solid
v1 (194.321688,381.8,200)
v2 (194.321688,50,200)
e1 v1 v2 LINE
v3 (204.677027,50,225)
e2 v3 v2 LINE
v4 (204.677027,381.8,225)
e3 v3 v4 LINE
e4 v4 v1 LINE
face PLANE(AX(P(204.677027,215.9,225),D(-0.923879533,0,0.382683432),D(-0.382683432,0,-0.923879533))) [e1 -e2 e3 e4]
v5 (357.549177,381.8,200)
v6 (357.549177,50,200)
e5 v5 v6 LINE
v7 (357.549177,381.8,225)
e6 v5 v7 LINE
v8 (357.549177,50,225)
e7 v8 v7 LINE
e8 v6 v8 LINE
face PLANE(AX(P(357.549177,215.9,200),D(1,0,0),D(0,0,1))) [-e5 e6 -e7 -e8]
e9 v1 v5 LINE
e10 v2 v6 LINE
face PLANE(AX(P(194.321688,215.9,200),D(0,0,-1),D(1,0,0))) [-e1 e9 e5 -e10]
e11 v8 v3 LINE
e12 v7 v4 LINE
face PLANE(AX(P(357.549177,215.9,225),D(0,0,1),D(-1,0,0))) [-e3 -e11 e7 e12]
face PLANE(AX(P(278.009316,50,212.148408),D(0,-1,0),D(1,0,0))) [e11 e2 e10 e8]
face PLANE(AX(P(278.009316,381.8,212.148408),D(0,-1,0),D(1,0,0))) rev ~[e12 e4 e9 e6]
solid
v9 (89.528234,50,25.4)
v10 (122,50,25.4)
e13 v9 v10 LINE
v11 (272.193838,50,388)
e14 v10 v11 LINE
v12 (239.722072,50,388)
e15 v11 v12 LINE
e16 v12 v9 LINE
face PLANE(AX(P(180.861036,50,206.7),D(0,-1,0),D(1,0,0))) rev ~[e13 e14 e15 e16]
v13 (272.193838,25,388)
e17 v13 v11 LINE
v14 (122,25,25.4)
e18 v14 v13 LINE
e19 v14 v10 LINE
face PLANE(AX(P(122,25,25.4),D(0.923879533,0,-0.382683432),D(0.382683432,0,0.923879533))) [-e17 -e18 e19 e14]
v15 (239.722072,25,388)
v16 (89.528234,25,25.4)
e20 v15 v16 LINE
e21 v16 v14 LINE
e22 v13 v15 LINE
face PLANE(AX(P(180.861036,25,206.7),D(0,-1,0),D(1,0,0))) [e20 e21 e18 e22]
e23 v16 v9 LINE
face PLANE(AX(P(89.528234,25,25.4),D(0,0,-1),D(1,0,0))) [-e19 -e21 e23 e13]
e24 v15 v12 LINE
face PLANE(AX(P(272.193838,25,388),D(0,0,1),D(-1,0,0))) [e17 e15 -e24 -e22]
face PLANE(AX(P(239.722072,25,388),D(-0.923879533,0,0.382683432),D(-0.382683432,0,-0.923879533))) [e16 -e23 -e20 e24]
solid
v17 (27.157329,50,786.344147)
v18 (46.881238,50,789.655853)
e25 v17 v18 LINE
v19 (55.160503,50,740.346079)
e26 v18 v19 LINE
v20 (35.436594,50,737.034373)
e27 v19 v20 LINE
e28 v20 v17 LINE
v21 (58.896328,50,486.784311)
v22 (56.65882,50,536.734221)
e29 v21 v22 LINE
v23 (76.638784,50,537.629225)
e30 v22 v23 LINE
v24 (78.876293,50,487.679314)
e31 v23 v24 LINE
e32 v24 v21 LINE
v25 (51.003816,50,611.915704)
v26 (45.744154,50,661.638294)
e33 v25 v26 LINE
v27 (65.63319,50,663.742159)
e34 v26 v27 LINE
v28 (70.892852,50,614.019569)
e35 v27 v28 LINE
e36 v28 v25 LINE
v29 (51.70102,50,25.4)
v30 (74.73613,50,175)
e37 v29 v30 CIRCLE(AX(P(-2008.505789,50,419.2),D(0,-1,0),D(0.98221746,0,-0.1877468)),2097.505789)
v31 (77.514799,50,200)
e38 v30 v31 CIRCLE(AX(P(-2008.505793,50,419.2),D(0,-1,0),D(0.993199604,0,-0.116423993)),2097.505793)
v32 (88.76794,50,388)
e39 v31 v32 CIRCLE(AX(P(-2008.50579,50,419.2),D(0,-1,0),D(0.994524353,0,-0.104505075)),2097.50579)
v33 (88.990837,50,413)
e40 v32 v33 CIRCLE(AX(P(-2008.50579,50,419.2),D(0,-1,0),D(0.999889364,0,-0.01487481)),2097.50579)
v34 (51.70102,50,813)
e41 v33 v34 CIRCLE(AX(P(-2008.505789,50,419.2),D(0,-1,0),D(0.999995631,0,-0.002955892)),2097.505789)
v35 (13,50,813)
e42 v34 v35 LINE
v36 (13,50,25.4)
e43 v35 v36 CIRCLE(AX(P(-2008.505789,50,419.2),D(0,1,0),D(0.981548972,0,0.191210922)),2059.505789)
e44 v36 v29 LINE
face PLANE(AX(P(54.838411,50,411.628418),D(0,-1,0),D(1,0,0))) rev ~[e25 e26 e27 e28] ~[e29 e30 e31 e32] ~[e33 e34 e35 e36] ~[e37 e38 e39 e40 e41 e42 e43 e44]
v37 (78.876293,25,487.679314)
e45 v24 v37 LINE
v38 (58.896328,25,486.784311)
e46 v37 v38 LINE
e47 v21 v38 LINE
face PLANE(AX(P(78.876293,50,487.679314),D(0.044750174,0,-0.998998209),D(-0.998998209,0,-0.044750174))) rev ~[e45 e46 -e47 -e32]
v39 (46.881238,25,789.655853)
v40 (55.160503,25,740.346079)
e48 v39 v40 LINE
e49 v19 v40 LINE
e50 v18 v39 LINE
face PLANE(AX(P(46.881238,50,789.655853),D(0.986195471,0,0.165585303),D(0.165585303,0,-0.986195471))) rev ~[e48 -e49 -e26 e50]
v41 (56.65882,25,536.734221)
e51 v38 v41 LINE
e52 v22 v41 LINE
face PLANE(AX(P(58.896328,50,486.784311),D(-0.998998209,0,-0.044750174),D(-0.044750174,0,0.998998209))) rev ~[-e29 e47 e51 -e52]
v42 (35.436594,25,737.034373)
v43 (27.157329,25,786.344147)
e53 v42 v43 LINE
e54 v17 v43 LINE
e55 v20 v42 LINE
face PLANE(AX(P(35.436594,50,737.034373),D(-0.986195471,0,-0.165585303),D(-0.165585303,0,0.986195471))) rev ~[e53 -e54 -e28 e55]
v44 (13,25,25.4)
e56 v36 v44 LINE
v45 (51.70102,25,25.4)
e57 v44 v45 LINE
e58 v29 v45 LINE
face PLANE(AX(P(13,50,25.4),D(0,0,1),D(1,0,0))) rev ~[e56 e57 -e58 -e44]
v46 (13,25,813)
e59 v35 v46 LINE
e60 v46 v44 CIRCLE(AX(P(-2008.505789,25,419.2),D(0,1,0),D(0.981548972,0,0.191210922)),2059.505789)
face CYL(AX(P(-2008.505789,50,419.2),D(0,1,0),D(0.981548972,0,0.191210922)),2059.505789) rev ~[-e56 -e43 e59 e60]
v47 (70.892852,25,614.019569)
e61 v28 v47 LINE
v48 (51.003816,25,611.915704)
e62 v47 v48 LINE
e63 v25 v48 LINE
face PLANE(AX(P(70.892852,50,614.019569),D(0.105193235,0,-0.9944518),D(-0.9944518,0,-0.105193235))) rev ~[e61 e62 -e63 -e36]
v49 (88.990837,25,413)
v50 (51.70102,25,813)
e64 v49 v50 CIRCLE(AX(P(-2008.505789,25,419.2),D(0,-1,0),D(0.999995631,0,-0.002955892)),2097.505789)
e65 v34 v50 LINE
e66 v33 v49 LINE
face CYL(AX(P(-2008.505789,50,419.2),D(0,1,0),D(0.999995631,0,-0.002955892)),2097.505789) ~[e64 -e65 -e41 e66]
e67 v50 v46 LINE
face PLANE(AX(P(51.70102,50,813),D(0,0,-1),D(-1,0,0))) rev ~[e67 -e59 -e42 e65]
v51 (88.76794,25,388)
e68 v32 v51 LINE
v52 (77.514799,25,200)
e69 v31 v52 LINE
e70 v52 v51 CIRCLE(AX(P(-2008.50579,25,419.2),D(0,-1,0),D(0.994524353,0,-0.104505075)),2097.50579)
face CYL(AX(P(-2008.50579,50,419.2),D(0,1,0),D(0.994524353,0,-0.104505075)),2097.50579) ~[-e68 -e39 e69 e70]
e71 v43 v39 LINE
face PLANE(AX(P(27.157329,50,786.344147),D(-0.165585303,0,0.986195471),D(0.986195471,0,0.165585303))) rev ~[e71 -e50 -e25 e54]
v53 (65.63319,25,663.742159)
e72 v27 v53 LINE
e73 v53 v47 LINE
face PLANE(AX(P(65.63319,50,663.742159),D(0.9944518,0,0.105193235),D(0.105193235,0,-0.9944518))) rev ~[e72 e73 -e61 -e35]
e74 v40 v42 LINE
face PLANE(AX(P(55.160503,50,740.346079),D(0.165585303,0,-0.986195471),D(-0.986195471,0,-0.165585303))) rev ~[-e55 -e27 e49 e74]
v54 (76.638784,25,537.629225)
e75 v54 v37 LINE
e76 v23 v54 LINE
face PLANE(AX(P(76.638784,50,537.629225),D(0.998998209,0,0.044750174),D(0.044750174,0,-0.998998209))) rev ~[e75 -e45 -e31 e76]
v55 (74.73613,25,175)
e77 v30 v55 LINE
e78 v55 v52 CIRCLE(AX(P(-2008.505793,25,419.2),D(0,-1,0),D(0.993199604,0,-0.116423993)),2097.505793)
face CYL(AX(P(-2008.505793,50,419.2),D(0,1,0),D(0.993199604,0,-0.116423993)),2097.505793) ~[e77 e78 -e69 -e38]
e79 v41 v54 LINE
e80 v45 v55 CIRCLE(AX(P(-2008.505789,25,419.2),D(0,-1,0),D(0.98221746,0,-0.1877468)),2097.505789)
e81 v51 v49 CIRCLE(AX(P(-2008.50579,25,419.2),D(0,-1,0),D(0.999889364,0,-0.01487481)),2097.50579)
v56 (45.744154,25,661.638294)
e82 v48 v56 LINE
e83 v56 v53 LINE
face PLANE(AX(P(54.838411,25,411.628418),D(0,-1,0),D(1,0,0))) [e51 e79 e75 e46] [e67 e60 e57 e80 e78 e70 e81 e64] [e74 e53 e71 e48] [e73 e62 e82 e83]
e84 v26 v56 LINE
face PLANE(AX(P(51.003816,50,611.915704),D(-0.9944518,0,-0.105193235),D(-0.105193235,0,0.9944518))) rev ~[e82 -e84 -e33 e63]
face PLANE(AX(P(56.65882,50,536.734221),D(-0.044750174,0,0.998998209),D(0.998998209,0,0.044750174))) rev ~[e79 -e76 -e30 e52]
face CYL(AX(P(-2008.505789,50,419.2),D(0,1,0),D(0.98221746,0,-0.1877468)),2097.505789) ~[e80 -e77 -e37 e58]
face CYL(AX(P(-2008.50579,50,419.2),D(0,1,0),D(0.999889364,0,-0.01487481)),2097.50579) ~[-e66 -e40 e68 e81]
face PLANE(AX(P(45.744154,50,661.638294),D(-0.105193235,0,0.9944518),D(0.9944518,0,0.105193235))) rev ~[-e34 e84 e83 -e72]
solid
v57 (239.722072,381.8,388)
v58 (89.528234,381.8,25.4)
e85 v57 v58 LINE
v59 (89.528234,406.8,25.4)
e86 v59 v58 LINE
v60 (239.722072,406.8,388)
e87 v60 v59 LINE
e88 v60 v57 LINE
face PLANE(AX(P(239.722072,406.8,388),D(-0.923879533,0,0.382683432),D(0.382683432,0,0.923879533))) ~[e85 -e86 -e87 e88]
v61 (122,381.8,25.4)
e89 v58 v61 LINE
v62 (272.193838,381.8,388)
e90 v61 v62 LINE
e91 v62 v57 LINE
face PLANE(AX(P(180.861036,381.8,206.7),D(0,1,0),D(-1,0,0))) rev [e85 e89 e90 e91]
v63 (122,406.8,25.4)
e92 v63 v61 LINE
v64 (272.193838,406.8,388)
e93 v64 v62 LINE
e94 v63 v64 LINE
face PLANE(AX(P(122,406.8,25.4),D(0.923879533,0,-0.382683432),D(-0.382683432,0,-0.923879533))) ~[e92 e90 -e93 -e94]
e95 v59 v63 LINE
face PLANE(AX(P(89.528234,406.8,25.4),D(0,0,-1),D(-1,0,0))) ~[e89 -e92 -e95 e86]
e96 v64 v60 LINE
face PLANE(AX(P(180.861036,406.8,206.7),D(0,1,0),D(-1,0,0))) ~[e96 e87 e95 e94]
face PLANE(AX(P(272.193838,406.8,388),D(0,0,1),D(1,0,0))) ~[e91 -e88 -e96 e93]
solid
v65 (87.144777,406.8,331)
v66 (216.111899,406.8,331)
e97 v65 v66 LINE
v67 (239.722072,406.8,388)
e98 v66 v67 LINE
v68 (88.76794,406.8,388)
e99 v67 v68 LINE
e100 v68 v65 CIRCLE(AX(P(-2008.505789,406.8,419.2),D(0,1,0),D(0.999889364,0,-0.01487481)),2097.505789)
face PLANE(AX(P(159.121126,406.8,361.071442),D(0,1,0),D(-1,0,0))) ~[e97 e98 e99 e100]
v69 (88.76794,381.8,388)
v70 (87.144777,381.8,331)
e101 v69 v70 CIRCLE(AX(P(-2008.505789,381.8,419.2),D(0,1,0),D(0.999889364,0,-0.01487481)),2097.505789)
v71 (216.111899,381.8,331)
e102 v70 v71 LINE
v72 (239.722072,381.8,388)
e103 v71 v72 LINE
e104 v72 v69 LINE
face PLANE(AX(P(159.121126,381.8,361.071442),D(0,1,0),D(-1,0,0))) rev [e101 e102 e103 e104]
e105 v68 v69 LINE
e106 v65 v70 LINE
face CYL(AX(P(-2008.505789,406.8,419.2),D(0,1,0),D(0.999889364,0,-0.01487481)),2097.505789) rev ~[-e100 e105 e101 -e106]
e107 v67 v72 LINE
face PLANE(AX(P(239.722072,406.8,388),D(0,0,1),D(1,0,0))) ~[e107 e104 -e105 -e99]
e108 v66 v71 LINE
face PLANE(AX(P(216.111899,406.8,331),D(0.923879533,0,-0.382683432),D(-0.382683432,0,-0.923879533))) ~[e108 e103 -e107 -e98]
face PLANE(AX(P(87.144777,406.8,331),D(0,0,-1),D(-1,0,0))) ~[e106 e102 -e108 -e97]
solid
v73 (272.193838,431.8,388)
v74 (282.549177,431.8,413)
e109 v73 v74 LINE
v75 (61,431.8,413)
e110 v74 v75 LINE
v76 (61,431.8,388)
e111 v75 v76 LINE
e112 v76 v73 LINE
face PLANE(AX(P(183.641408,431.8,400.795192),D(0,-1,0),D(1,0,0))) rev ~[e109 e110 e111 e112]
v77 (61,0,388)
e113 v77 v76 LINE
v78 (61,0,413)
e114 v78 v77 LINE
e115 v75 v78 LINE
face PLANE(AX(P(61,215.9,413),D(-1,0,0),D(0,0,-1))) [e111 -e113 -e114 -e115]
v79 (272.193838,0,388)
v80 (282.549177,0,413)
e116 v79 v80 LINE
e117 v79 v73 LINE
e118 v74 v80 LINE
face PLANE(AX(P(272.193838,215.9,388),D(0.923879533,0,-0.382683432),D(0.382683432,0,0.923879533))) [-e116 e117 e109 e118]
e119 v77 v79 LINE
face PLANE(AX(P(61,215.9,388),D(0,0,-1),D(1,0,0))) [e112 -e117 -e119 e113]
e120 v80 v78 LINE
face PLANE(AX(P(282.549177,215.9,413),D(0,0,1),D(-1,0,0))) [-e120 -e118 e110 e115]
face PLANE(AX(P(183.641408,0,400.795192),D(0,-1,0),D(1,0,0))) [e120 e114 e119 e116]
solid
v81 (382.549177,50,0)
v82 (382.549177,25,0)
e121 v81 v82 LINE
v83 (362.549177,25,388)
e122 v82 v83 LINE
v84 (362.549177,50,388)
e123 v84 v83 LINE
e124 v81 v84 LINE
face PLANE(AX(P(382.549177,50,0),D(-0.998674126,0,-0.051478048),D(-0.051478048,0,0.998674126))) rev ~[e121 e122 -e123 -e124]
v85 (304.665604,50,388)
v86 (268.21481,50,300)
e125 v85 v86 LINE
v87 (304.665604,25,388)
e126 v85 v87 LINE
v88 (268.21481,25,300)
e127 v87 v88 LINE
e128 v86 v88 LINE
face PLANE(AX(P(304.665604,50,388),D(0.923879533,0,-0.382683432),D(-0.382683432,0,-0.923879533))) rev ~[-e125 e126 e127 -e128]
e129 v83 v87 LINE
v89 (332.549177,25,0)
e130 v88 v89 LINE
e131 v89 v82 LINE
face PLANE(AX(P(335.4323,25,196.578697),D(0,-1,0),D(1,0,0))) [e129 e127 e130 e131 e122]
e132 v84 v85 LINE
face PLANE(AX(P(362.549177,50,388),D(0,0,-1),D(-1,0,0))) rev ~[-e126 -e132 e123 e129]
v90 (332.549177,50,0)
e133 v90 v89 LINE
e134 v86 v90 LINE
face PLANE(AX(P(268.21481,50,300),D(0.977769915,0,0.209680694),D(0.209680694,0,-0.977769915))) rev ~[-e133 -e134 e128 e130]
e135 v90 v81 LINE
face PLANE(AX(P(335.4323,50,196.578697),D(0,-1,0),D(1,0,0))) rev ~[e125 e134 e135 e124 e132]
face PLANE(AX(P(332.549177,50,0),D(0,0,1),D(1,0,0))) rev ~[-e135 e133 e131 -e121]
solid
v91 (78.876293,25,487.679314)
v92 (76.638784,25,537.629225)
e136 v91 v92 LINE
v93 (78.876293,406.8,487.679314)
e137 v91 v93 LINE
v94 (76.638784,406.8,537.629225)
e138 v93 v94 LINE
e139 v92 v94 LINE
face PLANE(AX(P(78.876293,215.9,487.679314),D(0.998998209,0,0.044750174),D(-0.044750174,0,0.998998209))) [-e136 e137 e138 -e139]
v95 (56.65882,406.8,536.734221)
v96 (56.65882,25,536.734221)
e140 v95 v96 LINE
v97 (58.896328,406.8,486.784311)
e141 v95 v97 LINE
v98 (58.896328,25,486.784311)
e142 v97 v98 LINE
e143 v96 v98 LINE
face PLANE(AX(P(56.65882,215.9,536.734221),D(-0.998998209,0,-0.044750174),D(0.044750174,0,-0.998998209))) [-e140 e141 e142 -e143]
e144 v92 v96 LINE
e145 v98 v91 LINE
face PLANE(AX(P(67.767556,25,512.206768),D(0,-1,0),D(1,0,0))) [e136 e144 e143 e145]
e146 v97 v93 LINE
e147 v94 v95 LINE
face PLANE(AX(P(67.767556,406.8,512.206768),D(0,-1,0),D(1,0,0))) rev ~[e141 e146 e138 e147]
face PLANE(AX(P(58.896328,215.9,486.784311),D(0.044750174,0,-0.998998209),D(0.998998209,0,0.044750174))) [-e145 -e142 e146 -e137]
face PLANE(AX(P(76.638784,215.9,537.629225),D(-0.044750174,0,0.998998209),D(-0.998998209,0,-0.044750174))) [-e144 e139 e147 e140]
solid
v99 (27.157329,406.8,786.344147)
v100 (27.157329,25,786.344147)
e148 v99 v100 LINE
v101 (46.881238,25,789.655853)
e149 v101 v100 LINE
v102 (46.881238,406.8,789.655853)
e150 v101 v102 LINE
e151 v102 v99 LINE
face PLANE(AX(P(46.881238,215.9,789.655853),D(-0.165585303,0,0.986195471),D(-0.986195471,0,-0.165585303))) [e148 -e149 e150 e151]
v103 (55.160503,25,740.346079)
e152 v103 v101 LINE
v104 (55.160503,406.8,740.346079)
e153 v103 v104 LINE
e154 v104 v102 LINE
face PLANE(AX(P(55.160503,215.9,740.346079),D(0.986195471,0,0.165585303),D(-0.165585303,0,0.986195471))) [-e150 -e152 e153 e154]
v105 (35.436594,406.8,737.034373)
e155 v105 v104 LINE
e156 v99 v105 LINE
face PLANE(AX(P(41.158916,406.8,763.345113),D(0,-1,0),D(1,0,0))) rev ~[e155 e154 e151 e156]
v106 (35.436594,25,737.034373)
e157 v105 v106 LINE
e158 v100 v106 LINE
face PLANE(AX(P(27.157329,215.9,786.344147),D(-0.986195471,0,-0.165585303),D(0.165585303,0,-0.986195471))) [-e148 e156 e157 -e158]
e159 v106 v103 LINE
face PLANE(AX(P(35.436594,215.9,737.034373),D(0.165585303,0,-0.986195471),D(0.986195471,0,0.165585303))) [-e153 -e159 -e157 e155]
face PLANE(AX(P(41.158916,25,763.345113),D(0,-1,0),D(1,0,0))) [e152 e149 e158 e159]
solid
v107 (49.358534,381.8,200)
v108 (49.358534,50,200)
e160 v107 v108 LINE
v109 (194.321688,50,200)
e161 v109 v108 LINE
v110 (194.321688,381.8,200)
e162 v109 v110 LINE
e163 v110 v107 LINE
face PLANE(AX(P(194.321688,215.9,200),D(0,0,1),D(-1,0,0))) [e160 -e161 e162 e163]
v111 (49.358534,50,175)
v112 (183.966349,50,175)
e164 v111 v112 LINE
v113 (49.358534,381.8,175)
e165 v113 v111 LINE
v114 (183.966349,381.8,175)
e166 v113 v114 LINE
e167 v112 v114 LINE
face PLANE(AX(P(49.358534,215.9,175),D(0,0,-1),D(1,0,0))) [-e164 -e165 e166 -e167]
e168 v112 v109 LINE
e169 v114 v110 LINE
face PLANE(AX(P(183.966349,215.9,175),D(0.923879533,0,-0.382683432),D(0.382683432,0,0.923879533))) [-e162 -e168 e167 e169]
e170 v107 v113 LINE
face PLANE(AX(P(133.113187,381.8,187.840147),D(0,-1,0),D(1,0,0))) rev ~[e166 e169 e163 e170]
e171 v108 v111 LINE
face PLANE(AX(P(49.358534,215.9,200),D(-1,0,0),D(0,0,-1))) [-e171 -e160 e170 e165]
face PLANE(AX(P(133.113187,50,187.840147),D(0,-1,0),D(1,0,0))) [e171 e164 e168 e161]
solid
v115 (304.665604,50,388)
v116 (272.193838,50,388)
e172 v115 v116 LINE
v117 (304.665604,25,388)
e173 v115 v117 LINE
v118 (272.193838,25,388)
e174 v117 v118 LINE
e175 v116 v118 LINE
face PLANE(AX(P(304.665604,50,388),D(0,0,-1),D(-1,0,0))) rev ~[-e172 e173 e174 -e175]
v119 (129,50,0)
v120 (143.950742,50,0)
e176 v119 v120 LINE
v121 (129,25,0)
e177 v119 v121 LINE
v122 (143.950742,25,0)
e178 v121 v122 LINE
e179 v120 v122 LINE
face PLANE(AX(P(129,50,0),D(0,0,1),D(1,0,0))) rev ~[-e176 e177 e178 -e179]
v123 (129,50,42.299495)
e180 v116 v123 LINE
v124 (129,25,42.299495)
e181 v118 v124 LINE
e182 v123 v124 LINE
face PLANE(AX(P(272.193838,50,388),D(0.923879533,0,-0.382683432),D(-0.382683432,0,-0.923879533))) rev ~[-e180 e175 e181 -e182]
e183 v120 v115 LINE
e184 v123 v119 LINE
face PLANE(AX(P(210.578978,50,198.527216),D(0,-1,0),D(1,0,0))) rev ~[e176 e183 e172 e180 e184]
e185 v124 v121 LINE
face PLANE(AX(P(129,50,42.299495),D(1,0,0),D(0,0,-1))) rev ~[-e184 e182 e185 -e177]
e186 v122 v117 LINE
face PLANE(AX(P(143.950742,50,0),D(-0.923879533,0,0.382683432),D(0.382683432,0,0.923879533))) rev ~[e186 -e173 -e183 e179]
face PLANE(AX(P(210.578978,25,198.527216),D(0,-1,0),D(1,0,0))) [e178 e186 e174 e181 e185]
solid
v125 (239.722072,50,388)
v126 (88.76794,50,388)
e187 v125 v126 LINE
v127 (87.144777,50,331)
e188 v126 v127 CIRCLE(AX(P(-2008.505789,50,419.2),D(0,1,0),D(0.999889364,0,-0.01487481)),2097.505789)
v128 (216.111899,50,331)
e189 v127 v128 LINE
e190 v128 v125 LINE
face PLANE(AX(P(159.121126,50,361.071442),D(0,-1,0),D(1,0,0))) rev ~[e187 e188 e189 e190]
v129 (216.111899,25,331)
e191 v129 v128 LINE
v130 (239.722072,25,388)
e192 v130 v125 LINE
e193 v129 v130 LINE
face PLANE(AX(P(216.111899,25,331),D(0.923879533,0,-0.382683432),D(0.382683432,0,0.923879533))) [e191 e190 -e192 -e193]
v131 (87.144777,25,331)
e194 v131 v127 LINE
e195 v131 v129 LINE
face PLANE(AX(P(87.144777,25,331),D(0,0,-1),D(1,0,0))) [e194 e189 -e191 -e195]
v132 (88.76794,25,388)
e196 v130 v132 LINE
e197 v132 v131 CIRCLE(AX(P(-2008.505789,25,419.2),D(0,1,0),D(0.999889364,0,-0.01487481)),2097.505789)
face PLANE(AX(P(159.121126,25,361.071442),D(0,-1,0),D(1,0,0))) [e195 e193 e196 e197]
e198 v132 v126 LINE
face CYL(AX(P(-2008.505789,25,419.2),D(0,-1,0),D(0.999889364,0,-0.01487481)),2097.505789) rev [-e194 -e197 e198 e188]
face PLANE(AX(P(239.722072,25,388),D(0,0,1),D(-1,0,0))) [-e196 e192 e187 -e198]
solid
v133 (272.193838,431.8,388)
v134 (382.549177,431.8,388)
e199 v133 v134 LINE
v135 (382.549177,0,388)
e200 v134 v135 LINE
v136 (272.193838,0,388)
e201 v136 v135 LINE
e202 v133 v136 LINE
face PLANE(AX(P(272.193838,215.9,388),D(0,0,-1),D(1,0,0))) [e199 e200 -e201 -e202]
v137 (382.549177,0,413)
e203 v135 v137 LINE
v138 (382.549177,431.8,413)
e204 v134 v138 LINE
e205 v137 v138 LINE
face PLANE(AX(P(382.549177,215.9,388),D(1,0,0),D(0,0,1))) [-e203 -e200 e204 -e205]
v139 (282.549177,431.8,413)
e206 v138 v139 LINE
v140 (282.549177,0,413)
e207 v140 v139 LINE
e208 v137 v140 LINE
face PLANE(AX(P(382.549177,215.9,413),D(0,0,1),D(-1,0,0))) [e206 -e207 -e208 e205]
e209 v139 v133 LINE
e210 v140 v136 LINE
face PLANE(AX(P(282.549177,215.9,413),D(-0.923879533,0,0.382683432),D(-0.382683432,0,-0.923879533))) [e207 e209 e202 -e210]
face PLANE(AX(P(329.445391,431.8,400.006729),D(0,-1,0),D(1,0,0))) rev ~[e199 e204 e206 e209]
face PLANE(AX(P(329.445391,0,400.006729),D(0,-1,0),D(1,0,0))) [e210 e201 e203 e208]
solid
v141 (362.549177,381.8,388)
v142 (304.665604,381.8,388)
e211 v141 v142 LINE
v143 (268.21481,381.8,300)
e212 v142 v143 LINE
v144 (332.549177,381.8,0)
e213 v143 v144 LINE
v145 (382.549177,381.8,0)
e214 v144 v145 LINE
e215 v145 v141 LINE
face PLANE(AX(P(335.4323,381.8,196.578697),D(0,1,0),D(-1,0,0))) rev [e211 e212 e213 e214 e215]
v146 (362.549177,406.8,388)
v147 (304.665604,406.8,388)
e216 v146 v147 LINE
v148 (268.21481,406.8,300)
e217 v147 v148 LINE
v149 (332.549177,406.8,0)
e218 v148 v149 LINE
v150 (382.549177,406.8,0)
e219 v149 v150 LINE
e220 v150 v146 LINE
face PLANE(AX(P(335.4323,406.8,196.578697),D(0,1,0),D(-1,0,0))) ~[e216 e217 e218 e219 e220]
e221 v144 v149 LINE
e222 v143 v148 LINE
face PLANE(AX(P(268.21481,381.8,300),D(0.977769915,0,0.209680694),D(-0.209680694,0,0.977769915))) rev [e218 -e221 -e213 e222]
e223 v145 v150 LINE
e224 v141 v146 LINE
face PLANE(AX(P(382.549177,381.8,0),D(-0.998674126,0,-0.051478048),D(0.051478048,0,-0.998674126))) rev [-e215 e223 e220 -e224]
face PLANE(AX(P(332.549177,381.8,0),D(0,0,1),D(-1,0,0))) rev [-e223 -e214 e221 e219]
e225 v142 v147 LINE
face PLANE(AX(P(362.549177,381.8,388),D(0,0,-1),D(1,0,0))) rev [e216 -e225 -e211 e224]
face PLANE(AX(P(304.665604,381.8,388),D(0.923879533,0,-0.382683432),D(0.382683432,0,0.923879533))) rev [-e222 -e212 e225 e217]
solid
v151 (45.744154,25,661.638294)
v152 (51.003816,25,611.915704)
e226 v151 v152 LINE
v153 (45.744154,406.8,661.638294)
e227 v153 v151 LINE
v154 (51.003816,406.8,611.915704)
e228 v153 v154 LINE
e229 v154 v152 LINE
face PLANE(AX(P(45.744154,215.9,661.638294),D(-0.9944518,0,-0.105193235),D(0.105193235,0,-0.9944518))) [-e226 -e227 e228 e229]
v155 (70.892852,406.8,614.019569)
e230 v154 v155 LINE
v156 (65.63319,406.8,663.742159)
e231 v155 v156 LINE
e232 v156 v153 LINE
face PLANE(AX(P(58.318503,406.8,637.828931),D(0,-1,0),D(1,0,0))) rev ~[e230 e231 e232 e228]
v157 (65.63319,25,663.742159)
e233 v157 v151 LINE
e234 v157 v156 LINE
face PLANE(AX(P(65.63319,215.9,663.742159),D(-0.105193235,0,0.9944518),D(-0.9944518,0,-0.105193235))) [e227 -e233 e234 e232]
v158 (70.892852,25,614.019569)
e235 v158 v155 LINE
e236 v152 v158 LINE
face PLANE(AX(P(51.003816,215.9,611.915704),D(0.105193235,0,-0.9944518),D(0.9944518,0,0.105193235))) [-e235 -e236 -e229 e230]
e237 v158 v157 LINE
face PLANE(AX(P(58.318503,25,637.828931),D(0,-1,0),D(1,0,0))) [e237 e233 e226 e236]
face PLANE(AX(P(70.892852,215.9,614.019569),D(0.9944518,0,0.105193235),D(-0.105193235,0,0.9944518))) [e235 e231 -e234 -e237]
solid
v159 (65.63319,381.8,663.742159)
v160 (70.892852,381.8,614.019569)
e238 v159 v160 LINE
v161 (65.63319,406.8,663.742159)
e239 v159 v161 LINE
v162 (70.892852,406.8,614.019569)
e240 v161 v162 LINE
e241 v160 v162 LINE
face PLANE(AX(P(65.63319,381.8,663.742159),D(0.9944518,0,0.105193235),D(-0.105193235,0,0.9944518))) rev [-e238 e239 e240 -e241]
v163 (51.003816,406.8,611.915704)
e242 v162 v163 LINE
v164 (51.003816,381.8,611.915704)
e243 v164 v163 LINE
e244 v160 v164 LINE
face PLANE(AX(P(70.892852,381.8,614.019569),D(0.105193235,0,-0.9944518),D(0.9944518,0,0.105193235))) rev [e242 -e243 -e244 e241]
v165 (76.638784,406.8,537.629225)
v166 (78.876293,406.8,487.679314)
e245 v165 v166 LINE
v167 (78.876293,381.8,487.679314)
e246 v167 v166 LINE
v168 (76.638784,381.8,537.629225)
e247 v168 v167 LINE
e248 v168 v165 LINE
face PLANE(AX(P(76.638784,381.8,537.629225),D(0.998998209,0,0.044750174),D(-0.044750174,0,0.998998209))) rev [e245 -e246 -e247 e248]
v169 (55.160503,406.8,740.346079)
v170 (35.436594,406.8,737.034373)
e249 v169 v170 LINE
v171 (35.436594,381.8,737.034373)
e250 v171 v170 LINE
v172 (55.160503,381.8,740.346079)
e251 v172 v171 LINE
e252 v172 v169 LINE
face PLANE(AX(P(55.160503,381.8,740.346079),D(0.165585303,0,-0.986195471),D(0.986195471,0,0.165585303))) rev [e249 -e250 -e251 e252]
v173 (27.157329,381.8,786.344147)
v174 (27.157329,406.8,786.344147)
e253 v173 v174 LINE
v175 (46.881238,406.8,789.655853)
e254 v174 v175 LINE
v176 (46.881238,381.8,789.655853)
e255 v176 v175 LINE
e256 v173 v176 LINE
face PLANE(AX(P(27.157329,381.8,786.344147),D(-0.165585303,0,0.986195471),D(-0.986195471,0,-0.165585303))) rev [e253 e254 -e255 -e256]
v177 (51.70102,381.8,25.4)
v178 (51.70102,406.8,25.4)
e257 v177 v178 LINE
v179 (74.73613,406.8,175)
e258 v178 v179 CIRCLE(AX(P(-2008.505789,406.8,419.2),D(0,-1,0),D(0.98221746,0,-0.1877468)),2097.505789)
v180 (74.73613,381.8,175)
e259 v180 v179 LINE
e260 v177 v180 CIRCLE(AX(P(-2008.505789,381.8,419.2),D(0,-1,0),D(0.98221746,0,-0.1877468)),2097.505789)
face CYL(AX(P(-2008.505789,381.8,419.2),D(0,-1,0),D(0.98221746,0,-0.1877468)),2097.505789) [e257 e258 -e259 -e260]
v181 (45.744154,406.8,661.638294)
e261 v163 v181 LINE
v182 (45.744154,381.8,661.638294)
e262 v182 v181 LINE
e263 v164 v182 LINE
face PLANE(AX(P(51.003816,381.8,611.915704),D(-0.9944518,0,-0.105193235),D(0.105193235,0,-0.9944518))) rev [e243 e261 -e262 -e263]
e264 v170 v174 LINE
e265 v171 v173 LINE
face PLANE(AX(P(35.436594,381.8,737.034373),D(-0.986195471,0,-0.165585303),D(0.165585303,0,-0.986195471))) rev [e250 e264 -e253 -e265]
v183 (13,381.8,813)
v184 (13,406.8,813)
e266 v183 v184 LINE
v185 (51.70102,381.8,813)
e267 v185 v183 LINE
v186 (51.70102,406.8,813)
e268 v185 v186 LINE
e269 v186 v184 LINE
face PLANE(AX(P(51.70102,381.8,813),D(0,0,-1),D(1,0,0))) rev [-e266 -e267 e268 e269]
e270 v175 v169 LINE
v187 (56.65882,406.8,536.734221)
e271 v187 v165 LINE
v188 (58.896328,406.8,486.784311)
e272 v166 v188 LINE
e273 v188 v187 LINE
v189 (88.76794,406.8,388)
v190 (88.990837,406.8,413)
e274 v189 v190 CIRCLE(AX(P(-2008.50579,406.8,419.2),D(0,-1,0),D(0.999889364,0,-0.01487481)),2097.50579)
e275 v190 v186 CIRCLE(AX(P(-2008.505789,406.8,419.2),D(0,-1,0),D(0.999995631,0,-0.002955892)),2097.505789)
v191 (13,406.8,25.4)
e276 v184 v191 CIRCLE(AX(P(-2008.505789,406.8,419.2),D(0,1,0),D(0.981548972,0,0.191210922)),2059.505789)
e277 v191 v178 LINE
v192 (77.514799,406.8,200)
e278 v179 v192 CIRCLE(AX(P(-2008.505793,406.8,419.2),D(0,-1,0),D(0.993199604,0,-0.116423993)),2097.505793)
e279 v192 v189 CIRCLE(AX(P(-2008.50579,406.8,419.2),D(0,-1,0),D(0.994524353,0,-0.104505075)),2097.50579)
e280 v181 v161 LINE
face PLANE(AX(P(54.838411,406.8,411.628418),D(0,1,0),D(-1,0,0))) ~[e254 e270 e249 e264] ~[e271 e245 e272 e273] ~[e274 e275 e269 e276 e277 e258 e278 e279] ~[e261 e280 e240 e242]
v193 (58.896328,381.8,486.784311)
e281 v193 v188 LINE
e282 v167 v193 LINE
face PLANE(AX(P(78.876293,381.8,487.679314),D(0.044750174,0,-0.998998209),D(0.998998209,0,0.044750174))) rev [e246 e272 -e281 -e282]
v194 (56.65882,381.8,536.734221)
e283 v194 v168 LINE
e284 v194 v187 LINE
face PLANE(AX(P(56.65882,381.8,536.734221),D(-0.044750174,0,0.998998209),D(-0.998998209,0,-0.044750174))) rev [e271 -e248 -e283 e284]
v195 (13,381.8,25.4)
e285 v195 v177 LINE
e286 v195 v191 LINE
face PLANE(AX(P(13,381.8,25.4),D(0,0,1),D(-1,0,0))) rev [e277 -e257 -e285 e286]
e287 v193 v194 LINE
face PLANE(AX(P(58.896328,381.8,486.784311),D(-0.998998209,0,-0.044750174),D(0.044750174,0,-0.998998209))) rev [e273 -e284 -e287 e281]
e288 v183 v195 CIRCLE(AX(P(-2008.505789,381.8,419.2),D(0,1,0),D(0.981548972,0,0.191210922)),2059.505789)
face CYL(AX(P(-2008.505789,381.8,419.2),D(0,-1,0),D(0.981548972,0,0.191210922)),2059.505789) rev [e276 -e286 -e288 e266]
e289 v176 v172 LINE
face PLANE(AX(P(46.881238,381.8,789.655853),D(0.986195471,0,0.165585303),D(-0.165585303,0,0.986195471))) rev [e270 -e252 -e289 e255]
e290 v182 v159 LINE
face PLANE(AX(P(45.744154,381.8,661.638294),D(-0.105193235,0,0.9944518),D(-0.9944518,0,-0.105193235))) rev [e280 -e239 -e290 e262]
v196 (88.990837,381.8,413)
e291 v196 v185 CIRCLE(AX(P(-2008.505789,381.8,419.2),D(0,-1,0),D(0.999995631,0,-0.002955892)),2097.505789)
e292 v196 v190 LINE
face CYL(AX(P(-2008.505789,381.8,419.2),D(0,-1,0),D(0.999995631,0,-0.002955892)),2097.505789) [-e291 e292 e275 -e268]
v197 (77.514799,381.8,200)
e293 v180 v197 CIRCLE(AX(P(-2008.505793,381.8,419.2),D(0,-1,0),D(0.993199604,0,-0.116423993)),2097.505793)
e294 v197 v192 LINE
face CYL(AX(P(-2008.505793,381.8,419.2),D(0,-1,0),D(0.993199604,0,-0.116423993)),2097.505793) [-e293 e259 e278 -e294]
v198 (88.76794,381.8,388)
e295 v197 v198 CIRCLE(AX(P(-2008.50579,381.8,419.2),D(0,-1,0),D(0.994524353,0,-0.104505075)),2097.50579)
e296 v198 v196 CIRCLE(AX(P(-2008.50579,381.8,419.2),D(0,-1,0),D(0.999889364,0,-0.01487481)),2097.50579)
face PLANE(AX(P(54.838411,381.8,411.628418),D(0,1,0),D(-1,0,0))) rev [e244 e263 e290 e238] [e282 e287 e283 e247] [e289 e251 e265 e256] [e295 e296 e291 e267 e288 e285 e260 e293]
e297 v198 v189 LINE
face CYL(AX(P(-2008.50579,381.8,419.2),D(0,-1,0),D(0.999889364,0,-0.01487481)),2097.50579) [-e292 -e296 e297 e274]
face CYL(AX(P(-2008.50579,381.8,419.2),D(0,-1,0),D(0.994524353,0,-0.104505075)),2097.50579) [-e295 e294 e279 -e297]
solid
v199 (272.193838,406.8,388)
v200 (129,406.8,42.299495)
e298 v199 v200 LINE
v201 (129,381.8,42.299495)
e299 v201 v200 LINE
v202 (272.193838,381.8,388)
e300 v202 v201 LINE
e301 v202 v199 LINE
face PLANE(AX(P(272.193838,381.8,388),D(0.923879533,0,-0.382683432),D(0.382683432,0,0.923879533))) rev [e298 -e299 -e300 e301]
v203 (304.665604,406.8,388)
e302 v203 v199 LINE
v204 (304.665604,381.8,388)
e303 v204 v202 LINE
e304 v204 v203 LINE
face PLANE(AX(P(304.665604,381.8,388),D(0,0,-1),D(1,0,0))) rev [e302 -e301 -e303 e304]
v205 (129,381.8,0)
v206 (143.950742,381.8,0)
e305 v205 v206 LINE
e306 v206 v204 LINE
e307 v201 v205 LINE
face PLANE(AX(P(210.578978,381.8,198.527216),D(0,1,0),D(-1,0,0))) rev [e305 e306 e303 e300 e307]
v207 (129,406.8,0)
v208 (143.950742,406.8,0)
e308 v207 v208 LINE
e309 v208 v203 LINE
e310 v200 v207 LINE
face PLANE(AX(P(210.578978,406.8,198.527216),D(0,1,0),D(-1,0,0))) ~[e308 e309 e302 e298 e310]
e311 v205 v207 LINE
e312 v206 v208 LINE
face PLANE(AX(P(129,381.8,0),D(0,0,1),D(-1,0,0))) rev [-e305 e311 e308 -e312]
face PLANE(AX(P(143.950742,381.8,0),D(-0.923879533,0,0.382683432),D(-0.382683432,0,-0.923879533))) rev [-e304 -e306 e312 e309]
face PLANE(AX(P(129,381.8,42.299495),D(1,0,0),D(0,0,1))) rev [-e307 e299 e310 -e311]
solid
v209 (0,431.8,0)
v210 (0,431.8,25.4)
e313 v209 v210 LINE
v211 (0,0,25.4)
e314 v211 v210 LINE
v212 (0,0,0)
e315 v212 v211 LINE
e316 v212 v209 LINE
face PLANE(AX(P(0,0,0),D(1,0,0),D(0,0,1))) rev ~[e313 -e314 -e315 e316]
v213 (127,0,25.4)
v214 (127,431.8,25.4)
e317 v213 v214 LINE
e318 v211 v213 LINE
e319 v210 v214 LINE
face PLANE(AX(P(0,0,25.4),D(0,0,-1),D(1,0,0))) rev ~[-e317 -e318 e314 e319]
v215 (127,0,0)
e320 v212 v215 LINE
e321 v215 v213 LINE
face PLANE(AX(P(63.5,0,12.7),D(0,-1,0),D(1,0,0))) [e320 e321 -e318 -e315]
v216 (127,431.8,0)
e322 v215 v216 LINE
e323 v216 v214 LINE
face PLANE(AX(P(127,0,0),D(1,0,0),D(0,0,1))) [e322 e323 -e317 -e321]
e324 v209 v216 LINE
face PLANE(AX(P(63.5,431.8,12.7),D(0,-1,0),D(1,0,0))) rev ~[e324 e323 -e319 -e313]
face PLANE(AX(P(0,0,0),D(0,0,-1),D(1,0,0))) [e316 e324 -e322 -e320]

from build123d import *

# Parameters (mm, degrees)
F0_W           = 127
F0_H           = 25.4
F1_DEPTH       = 431.8
F7_START       = 165.9
F7_DEPTH       = 25
F8_DEPTH       = 215.9
F8_DEPTH_BACK  = 215.9
F10_DEPTH      = 25
F12_DEPTH      = 25
F14_DEPTH      = 165.9
F14_DEPTH_BACK = 165.9
F15_DEPTH      = 190.9
F15_DEPTH_BACK = 190.9
F16_DEPTH      = 215.9
F16_DEPTH_BACK = 215.9
F17_DEPTH      = 165.9
F17_DEPTH_BACK = 165.9
F19_START      = 165.9
F19_DEPTH      = 25
F22_START      = 165.9
F22_DEPTH      = 25


with BuildPart() as f1:
    # F0 (on Front) → F1 (new body)
    with BuildSketch(Plane.XZ):
        with Locations((63.5, 12.7)):
            Rectangle(F0_W, F0_H)
    extrude(amount=-F1_DEPTH)


with BuildPart() as f7:
    # F6 (on plane+point) → F7 (new body)
    with BuildSketch(Plane.XZ.offset(-215.9).offset(F7_START)):
        with BuildLine():
            Line((49.358533718, 175), (49.358533718, 200))
            Line((49.358533718, 200), (77.5147993211, 200))
            ThreePointArc((77.5147993211, 200), (85.2525152456, 293.873632884), (88.7679401276, 388))
            Line((88.7679401276, 388), (61, 388))
            Line((61, 388), (61, 413))
            Line((61, 413), (88.9908367156, 413))
            ThreePointArc((88.9908367156, 413), (79.9444647253, 613.8948191706), (51.7010197752, 813))
            Line((51.7010197752, 813), (13, 813))
            ThreePointArc((13, 813), (51, 419.2), (13, 25.4))
            Line((13, 25.4), (51.7010197752, 25.4))
            ThreePointArc((51.7010197752, 25.4), (64.5684693976, 99.99214596), (74.7361304376, 175))
            Line((74.7361304376, 175), (49.358533718, 175))
        make_face()
        Polygon((58.8963284271, 486.7843108688), (56.6588197025, 536.7342213262), (76.6387838854, 537.6292248161), (78.8762926101, 487.6793143587), align=None, mode=Mode.SUBTRACT)
        Polygon((51.0038156462, 611.9157040706), (45.7441538721, 661.6382940878), (65.633189879, 663.7421587975), (70.8928516531, 614.0195687802), align=None, mode=Mode.SUBTRACT)
        Polygon((35.4365940724, 737.034373409), (27.1573289044, 786.3441469664), (46.8812383273, 789.6558530336), (55.1605034953, 740.3460794762), align=None, mode=Mode.SUBTRACT)
        with BuildLine():
            Line((61, 388), (88.7679401276, 388))
            ThreePointArc((88.7679401276, 388), (88.9166368522, 400.4996678981), (88.9908367156, 413))
            Line((88.9908367156, 413), (61, 413))
            Line((61, 413), (61, 388))
        make_face()
        with BuildLine():
            Line((77.5147993211, 200), (49.358533718, 200))
            Line((49.358533718, 200), (49.358533718, 175))
            Line((49.358533718, 175), (74.7361304376, 175))
            ThreePointArc((74.7361304376, 175), (76.1629411944, 187.4958346292), (77.5147993211, 200))
        make_face()
    extrude(amount=F7_DEPTH)


with BuildPart() as f8:
    # F6 (on plane+point) → F8 (new body, two sides)
    with BuildSketch(Plane.XZ.offset(-215.9)) as f8_sk:
        with BuildLine():
            ThreePointArc((88.9908367156, 413), (88.9166368522, 400.4996678981), (88.7679401276, 388))
            Line((88.7679401276, 388), (272.1938377165, 388))
            Line((272.1938377165, 388), (282.5491767758, 413))
            Line((282.5491767758, 413), (88.9908367156, 413))
        make_face()
        with BuildLine():
            Line((61, 388), (88.7679401276, 388))
            ThreePointArc((88.7679401276, 388), (88.9166368522, 400.4996678981), (88.9908367156, 413))
            Line((88.9908367156, 413), (61, 413))
            Line((61, 413), (61, 388))
        make_face()
    extrude(amount=F8_DEPTH)
    extrude(f8_sk.sketch, amount=-F8_DEPTH_BACK)


with BuildPart() as f10:
    # F9 (on offset) → F10 (new body)
    with BuildSketch(Plane.XZ.offset(-25)):
        Polygon((122, 25.4), (272.1938377165, 388), (239.7220717077, 388), (89.5282339912, 25.4), align=None)
    extrude(amount=-F10_DEPTH)


with BuildPart() as f12:
    # F11 (on offset) → F12 (new body)
    with BuildSketch(Plane.XZ.offset(-25)):
        with BuildLine():
            ThreePointArc((88.7679401276, 388), (88.1500688424, 359.4944838008), (87.1447770272, 331))
            Line((87.1447770272, 331), (216.1118986524, 331))
            Line((216.1118986524, 331), (239.7220717077, 388))
            Line((239.7220717077, 388), (88.7679401276, 388))
        make_face()
    extrude(amount=-F12_DEPTH)


with BuildPart() as f13_1:
    # F13: instance of F12
    add(f12.part.mirror(Plane.XZ.offset(-215.9)))


with BuildPart() as f13_2:
    # F13: instance of F10
    add(f10.part.mirror(Plane.XZ.offset(-215.9)))


with BuildPart() as f13_3:
    # F13: instance of F7
    add(f7.part.mirror(Plane.XZ.offset(-215.9)))


with BuildPart() as f14:
    # F6 (on plane+point) → F14 (new body, two sides)
    with BuildSketch(Plane.XZ.offset(-215.9)) as f14_sk:
        with BuildLine():
            Line((194.3216879903, 200), (77.5147993211, 200))
            ThreePointArc((77.5147993211, 200), (76.1629411944, 187.4958346292), (74.7361304376, 175))
            Line((74.7361304376, 175), (183.966348931, 175))
            Line((183.966348931, 175), (194.3216879903, 200))
        make_face()
        with BuildLine():
            Line((77.5147993211, 200), (49.358533718, 200))
            Line((49.358533718, 200), (49.358533718, 175))
            Line((49.358533718, 175), (74.7361304376, 175))
            ThreePointArc((74.7361304376, 175), (76.1629411944, 187.4958346292), (77.5147993211, 200))
        make_face()
    extrude(amount=F14_DEPTH)
    extrude(f14_sk.sketch, amount=-F14_DEPTH_BACK)


with BuildPart() as f15:
    # F6 (on plane+point) → F15 (new body, two sides)
    with BuildSketch(Plane.XZ.offset(-215.9)) as f15_sk:
        Polygon((46.8812383273, 789.6558530336), (27.1573289044, 786.3441469664), (35.4365940724, 737.034373409), (55.1605034953, 740.3460794762), align=None)
    extrude(amount=F15_DEPTH)
    extrude(f15_sk.sketch, amount=-F15_DEPTH_BACK)


with BuildPart() as f15b:
    # F6 (on plane+point) → F15, piece 2 (new body, two sides)
    with BuildSketch(Plane.XZ.offset(-215.9)) as f15_2_sk:
        Polygon((65.633189879, 663.7421587975), (45.7441538721, 661.6382940878), (51.0038156462, 611.9157040706), (70.8928516531, 614.0195687802), align=None)
    extrude(amount=F15_DEPTH)
    extrude(f15_2_sk.sketch, amount=-F15_DEPTH_BACK)


with BuildPart() as f15c:
    # F6 (on plane+point) → F15, piece 3 (new body, two sides)
    with BuildSketch(Plane.XZ.offset(-215.9)) as f15_3_sk:
        Polygon((76.6387838854, 537.6292248161), (56.6588197025, 536.7342213262), (58.8963284271, 486.7843108688), (78.8762926101, 487.6793143587), align=None)
    extrude(amount=F15_DEPTH)
    extrude(f15_3_sk.sketch, amount=-F15_DEPTH_BACK)


with BuildPart() as f16:
    # F6 (on plane+point) → F16 (new body, two sides)
    with BuildSketch(Plane.XZ.offset(-215.9)) as f16_sk:
        Polygon((282.5491767758, 413), (272.1938377165, 388), (382.5491767758, 388), (382.5491767758, 413), align=None)
    extrude(amount=F16_DEPTH)
    extrude(f16_sk.sketch, amount=-F16_DEPTH_BACK)


with BuildPart() as f17:
    # F6 (on plane+point) → F17 (new body, two sides)
    with BuildSketch(Plane.XZ.offset(-215.9)) as f17_sk:
        Polygon((204.6770270497, 225), (194.3216879903, 200), (357.5491767758, 200), (357.5491767758, 225), align=None)
    extrude(amount=F17_DEPTH)
    extrude(f17_sk.sketch, amount=-F17_DEPTH_BACK)


with BuildPart() as f19:
    # F18 (on plane+point) → F19 (new body)
    with BuildSketch(Plane.XZ.offset(-215.9).offset(F19_START)):
        Polygon((272.1938377165, 388), (129, 42.2994949366), (129, 0), (143.9507415245, 0), (304.6656037253, 388), align=None)
    extrude(amount=F19_DEPTH)


with BuildPart() as f20_1:
    # F20: instance of F19
    add(f19.part.mirror(Plane.XZ.offset(-215.9)))


with BuildPart() as f22:
    # F21 (on plane+point) → F22 (new body)
    with BuildSketch(Plane.XZ.offset(-215.9).offset(F22_START)):
        Polygon((382.5491767758, 0), (362.5491767758, 388), (304.6656037253, 388), (268.2148102364, 300), (332.5491767758, 0), align=None)
    extrude(amount=F22_DEPTH)


with BuildPart() as f23_1:
    # F23: instance of F22
    add(f22.part.mirror(Plane.XZ.offset(-215.9)))


solid = Compound([f1.part, f7.part, f8.part, f10.part, f12.part, f13_1.part, f13_2.part, f13_3.part, f14.part, f15.part, f15b.part, f15c.part, f16.part, f17.part, f19.part, f20_1.part, f22.part, f23_1.part])
